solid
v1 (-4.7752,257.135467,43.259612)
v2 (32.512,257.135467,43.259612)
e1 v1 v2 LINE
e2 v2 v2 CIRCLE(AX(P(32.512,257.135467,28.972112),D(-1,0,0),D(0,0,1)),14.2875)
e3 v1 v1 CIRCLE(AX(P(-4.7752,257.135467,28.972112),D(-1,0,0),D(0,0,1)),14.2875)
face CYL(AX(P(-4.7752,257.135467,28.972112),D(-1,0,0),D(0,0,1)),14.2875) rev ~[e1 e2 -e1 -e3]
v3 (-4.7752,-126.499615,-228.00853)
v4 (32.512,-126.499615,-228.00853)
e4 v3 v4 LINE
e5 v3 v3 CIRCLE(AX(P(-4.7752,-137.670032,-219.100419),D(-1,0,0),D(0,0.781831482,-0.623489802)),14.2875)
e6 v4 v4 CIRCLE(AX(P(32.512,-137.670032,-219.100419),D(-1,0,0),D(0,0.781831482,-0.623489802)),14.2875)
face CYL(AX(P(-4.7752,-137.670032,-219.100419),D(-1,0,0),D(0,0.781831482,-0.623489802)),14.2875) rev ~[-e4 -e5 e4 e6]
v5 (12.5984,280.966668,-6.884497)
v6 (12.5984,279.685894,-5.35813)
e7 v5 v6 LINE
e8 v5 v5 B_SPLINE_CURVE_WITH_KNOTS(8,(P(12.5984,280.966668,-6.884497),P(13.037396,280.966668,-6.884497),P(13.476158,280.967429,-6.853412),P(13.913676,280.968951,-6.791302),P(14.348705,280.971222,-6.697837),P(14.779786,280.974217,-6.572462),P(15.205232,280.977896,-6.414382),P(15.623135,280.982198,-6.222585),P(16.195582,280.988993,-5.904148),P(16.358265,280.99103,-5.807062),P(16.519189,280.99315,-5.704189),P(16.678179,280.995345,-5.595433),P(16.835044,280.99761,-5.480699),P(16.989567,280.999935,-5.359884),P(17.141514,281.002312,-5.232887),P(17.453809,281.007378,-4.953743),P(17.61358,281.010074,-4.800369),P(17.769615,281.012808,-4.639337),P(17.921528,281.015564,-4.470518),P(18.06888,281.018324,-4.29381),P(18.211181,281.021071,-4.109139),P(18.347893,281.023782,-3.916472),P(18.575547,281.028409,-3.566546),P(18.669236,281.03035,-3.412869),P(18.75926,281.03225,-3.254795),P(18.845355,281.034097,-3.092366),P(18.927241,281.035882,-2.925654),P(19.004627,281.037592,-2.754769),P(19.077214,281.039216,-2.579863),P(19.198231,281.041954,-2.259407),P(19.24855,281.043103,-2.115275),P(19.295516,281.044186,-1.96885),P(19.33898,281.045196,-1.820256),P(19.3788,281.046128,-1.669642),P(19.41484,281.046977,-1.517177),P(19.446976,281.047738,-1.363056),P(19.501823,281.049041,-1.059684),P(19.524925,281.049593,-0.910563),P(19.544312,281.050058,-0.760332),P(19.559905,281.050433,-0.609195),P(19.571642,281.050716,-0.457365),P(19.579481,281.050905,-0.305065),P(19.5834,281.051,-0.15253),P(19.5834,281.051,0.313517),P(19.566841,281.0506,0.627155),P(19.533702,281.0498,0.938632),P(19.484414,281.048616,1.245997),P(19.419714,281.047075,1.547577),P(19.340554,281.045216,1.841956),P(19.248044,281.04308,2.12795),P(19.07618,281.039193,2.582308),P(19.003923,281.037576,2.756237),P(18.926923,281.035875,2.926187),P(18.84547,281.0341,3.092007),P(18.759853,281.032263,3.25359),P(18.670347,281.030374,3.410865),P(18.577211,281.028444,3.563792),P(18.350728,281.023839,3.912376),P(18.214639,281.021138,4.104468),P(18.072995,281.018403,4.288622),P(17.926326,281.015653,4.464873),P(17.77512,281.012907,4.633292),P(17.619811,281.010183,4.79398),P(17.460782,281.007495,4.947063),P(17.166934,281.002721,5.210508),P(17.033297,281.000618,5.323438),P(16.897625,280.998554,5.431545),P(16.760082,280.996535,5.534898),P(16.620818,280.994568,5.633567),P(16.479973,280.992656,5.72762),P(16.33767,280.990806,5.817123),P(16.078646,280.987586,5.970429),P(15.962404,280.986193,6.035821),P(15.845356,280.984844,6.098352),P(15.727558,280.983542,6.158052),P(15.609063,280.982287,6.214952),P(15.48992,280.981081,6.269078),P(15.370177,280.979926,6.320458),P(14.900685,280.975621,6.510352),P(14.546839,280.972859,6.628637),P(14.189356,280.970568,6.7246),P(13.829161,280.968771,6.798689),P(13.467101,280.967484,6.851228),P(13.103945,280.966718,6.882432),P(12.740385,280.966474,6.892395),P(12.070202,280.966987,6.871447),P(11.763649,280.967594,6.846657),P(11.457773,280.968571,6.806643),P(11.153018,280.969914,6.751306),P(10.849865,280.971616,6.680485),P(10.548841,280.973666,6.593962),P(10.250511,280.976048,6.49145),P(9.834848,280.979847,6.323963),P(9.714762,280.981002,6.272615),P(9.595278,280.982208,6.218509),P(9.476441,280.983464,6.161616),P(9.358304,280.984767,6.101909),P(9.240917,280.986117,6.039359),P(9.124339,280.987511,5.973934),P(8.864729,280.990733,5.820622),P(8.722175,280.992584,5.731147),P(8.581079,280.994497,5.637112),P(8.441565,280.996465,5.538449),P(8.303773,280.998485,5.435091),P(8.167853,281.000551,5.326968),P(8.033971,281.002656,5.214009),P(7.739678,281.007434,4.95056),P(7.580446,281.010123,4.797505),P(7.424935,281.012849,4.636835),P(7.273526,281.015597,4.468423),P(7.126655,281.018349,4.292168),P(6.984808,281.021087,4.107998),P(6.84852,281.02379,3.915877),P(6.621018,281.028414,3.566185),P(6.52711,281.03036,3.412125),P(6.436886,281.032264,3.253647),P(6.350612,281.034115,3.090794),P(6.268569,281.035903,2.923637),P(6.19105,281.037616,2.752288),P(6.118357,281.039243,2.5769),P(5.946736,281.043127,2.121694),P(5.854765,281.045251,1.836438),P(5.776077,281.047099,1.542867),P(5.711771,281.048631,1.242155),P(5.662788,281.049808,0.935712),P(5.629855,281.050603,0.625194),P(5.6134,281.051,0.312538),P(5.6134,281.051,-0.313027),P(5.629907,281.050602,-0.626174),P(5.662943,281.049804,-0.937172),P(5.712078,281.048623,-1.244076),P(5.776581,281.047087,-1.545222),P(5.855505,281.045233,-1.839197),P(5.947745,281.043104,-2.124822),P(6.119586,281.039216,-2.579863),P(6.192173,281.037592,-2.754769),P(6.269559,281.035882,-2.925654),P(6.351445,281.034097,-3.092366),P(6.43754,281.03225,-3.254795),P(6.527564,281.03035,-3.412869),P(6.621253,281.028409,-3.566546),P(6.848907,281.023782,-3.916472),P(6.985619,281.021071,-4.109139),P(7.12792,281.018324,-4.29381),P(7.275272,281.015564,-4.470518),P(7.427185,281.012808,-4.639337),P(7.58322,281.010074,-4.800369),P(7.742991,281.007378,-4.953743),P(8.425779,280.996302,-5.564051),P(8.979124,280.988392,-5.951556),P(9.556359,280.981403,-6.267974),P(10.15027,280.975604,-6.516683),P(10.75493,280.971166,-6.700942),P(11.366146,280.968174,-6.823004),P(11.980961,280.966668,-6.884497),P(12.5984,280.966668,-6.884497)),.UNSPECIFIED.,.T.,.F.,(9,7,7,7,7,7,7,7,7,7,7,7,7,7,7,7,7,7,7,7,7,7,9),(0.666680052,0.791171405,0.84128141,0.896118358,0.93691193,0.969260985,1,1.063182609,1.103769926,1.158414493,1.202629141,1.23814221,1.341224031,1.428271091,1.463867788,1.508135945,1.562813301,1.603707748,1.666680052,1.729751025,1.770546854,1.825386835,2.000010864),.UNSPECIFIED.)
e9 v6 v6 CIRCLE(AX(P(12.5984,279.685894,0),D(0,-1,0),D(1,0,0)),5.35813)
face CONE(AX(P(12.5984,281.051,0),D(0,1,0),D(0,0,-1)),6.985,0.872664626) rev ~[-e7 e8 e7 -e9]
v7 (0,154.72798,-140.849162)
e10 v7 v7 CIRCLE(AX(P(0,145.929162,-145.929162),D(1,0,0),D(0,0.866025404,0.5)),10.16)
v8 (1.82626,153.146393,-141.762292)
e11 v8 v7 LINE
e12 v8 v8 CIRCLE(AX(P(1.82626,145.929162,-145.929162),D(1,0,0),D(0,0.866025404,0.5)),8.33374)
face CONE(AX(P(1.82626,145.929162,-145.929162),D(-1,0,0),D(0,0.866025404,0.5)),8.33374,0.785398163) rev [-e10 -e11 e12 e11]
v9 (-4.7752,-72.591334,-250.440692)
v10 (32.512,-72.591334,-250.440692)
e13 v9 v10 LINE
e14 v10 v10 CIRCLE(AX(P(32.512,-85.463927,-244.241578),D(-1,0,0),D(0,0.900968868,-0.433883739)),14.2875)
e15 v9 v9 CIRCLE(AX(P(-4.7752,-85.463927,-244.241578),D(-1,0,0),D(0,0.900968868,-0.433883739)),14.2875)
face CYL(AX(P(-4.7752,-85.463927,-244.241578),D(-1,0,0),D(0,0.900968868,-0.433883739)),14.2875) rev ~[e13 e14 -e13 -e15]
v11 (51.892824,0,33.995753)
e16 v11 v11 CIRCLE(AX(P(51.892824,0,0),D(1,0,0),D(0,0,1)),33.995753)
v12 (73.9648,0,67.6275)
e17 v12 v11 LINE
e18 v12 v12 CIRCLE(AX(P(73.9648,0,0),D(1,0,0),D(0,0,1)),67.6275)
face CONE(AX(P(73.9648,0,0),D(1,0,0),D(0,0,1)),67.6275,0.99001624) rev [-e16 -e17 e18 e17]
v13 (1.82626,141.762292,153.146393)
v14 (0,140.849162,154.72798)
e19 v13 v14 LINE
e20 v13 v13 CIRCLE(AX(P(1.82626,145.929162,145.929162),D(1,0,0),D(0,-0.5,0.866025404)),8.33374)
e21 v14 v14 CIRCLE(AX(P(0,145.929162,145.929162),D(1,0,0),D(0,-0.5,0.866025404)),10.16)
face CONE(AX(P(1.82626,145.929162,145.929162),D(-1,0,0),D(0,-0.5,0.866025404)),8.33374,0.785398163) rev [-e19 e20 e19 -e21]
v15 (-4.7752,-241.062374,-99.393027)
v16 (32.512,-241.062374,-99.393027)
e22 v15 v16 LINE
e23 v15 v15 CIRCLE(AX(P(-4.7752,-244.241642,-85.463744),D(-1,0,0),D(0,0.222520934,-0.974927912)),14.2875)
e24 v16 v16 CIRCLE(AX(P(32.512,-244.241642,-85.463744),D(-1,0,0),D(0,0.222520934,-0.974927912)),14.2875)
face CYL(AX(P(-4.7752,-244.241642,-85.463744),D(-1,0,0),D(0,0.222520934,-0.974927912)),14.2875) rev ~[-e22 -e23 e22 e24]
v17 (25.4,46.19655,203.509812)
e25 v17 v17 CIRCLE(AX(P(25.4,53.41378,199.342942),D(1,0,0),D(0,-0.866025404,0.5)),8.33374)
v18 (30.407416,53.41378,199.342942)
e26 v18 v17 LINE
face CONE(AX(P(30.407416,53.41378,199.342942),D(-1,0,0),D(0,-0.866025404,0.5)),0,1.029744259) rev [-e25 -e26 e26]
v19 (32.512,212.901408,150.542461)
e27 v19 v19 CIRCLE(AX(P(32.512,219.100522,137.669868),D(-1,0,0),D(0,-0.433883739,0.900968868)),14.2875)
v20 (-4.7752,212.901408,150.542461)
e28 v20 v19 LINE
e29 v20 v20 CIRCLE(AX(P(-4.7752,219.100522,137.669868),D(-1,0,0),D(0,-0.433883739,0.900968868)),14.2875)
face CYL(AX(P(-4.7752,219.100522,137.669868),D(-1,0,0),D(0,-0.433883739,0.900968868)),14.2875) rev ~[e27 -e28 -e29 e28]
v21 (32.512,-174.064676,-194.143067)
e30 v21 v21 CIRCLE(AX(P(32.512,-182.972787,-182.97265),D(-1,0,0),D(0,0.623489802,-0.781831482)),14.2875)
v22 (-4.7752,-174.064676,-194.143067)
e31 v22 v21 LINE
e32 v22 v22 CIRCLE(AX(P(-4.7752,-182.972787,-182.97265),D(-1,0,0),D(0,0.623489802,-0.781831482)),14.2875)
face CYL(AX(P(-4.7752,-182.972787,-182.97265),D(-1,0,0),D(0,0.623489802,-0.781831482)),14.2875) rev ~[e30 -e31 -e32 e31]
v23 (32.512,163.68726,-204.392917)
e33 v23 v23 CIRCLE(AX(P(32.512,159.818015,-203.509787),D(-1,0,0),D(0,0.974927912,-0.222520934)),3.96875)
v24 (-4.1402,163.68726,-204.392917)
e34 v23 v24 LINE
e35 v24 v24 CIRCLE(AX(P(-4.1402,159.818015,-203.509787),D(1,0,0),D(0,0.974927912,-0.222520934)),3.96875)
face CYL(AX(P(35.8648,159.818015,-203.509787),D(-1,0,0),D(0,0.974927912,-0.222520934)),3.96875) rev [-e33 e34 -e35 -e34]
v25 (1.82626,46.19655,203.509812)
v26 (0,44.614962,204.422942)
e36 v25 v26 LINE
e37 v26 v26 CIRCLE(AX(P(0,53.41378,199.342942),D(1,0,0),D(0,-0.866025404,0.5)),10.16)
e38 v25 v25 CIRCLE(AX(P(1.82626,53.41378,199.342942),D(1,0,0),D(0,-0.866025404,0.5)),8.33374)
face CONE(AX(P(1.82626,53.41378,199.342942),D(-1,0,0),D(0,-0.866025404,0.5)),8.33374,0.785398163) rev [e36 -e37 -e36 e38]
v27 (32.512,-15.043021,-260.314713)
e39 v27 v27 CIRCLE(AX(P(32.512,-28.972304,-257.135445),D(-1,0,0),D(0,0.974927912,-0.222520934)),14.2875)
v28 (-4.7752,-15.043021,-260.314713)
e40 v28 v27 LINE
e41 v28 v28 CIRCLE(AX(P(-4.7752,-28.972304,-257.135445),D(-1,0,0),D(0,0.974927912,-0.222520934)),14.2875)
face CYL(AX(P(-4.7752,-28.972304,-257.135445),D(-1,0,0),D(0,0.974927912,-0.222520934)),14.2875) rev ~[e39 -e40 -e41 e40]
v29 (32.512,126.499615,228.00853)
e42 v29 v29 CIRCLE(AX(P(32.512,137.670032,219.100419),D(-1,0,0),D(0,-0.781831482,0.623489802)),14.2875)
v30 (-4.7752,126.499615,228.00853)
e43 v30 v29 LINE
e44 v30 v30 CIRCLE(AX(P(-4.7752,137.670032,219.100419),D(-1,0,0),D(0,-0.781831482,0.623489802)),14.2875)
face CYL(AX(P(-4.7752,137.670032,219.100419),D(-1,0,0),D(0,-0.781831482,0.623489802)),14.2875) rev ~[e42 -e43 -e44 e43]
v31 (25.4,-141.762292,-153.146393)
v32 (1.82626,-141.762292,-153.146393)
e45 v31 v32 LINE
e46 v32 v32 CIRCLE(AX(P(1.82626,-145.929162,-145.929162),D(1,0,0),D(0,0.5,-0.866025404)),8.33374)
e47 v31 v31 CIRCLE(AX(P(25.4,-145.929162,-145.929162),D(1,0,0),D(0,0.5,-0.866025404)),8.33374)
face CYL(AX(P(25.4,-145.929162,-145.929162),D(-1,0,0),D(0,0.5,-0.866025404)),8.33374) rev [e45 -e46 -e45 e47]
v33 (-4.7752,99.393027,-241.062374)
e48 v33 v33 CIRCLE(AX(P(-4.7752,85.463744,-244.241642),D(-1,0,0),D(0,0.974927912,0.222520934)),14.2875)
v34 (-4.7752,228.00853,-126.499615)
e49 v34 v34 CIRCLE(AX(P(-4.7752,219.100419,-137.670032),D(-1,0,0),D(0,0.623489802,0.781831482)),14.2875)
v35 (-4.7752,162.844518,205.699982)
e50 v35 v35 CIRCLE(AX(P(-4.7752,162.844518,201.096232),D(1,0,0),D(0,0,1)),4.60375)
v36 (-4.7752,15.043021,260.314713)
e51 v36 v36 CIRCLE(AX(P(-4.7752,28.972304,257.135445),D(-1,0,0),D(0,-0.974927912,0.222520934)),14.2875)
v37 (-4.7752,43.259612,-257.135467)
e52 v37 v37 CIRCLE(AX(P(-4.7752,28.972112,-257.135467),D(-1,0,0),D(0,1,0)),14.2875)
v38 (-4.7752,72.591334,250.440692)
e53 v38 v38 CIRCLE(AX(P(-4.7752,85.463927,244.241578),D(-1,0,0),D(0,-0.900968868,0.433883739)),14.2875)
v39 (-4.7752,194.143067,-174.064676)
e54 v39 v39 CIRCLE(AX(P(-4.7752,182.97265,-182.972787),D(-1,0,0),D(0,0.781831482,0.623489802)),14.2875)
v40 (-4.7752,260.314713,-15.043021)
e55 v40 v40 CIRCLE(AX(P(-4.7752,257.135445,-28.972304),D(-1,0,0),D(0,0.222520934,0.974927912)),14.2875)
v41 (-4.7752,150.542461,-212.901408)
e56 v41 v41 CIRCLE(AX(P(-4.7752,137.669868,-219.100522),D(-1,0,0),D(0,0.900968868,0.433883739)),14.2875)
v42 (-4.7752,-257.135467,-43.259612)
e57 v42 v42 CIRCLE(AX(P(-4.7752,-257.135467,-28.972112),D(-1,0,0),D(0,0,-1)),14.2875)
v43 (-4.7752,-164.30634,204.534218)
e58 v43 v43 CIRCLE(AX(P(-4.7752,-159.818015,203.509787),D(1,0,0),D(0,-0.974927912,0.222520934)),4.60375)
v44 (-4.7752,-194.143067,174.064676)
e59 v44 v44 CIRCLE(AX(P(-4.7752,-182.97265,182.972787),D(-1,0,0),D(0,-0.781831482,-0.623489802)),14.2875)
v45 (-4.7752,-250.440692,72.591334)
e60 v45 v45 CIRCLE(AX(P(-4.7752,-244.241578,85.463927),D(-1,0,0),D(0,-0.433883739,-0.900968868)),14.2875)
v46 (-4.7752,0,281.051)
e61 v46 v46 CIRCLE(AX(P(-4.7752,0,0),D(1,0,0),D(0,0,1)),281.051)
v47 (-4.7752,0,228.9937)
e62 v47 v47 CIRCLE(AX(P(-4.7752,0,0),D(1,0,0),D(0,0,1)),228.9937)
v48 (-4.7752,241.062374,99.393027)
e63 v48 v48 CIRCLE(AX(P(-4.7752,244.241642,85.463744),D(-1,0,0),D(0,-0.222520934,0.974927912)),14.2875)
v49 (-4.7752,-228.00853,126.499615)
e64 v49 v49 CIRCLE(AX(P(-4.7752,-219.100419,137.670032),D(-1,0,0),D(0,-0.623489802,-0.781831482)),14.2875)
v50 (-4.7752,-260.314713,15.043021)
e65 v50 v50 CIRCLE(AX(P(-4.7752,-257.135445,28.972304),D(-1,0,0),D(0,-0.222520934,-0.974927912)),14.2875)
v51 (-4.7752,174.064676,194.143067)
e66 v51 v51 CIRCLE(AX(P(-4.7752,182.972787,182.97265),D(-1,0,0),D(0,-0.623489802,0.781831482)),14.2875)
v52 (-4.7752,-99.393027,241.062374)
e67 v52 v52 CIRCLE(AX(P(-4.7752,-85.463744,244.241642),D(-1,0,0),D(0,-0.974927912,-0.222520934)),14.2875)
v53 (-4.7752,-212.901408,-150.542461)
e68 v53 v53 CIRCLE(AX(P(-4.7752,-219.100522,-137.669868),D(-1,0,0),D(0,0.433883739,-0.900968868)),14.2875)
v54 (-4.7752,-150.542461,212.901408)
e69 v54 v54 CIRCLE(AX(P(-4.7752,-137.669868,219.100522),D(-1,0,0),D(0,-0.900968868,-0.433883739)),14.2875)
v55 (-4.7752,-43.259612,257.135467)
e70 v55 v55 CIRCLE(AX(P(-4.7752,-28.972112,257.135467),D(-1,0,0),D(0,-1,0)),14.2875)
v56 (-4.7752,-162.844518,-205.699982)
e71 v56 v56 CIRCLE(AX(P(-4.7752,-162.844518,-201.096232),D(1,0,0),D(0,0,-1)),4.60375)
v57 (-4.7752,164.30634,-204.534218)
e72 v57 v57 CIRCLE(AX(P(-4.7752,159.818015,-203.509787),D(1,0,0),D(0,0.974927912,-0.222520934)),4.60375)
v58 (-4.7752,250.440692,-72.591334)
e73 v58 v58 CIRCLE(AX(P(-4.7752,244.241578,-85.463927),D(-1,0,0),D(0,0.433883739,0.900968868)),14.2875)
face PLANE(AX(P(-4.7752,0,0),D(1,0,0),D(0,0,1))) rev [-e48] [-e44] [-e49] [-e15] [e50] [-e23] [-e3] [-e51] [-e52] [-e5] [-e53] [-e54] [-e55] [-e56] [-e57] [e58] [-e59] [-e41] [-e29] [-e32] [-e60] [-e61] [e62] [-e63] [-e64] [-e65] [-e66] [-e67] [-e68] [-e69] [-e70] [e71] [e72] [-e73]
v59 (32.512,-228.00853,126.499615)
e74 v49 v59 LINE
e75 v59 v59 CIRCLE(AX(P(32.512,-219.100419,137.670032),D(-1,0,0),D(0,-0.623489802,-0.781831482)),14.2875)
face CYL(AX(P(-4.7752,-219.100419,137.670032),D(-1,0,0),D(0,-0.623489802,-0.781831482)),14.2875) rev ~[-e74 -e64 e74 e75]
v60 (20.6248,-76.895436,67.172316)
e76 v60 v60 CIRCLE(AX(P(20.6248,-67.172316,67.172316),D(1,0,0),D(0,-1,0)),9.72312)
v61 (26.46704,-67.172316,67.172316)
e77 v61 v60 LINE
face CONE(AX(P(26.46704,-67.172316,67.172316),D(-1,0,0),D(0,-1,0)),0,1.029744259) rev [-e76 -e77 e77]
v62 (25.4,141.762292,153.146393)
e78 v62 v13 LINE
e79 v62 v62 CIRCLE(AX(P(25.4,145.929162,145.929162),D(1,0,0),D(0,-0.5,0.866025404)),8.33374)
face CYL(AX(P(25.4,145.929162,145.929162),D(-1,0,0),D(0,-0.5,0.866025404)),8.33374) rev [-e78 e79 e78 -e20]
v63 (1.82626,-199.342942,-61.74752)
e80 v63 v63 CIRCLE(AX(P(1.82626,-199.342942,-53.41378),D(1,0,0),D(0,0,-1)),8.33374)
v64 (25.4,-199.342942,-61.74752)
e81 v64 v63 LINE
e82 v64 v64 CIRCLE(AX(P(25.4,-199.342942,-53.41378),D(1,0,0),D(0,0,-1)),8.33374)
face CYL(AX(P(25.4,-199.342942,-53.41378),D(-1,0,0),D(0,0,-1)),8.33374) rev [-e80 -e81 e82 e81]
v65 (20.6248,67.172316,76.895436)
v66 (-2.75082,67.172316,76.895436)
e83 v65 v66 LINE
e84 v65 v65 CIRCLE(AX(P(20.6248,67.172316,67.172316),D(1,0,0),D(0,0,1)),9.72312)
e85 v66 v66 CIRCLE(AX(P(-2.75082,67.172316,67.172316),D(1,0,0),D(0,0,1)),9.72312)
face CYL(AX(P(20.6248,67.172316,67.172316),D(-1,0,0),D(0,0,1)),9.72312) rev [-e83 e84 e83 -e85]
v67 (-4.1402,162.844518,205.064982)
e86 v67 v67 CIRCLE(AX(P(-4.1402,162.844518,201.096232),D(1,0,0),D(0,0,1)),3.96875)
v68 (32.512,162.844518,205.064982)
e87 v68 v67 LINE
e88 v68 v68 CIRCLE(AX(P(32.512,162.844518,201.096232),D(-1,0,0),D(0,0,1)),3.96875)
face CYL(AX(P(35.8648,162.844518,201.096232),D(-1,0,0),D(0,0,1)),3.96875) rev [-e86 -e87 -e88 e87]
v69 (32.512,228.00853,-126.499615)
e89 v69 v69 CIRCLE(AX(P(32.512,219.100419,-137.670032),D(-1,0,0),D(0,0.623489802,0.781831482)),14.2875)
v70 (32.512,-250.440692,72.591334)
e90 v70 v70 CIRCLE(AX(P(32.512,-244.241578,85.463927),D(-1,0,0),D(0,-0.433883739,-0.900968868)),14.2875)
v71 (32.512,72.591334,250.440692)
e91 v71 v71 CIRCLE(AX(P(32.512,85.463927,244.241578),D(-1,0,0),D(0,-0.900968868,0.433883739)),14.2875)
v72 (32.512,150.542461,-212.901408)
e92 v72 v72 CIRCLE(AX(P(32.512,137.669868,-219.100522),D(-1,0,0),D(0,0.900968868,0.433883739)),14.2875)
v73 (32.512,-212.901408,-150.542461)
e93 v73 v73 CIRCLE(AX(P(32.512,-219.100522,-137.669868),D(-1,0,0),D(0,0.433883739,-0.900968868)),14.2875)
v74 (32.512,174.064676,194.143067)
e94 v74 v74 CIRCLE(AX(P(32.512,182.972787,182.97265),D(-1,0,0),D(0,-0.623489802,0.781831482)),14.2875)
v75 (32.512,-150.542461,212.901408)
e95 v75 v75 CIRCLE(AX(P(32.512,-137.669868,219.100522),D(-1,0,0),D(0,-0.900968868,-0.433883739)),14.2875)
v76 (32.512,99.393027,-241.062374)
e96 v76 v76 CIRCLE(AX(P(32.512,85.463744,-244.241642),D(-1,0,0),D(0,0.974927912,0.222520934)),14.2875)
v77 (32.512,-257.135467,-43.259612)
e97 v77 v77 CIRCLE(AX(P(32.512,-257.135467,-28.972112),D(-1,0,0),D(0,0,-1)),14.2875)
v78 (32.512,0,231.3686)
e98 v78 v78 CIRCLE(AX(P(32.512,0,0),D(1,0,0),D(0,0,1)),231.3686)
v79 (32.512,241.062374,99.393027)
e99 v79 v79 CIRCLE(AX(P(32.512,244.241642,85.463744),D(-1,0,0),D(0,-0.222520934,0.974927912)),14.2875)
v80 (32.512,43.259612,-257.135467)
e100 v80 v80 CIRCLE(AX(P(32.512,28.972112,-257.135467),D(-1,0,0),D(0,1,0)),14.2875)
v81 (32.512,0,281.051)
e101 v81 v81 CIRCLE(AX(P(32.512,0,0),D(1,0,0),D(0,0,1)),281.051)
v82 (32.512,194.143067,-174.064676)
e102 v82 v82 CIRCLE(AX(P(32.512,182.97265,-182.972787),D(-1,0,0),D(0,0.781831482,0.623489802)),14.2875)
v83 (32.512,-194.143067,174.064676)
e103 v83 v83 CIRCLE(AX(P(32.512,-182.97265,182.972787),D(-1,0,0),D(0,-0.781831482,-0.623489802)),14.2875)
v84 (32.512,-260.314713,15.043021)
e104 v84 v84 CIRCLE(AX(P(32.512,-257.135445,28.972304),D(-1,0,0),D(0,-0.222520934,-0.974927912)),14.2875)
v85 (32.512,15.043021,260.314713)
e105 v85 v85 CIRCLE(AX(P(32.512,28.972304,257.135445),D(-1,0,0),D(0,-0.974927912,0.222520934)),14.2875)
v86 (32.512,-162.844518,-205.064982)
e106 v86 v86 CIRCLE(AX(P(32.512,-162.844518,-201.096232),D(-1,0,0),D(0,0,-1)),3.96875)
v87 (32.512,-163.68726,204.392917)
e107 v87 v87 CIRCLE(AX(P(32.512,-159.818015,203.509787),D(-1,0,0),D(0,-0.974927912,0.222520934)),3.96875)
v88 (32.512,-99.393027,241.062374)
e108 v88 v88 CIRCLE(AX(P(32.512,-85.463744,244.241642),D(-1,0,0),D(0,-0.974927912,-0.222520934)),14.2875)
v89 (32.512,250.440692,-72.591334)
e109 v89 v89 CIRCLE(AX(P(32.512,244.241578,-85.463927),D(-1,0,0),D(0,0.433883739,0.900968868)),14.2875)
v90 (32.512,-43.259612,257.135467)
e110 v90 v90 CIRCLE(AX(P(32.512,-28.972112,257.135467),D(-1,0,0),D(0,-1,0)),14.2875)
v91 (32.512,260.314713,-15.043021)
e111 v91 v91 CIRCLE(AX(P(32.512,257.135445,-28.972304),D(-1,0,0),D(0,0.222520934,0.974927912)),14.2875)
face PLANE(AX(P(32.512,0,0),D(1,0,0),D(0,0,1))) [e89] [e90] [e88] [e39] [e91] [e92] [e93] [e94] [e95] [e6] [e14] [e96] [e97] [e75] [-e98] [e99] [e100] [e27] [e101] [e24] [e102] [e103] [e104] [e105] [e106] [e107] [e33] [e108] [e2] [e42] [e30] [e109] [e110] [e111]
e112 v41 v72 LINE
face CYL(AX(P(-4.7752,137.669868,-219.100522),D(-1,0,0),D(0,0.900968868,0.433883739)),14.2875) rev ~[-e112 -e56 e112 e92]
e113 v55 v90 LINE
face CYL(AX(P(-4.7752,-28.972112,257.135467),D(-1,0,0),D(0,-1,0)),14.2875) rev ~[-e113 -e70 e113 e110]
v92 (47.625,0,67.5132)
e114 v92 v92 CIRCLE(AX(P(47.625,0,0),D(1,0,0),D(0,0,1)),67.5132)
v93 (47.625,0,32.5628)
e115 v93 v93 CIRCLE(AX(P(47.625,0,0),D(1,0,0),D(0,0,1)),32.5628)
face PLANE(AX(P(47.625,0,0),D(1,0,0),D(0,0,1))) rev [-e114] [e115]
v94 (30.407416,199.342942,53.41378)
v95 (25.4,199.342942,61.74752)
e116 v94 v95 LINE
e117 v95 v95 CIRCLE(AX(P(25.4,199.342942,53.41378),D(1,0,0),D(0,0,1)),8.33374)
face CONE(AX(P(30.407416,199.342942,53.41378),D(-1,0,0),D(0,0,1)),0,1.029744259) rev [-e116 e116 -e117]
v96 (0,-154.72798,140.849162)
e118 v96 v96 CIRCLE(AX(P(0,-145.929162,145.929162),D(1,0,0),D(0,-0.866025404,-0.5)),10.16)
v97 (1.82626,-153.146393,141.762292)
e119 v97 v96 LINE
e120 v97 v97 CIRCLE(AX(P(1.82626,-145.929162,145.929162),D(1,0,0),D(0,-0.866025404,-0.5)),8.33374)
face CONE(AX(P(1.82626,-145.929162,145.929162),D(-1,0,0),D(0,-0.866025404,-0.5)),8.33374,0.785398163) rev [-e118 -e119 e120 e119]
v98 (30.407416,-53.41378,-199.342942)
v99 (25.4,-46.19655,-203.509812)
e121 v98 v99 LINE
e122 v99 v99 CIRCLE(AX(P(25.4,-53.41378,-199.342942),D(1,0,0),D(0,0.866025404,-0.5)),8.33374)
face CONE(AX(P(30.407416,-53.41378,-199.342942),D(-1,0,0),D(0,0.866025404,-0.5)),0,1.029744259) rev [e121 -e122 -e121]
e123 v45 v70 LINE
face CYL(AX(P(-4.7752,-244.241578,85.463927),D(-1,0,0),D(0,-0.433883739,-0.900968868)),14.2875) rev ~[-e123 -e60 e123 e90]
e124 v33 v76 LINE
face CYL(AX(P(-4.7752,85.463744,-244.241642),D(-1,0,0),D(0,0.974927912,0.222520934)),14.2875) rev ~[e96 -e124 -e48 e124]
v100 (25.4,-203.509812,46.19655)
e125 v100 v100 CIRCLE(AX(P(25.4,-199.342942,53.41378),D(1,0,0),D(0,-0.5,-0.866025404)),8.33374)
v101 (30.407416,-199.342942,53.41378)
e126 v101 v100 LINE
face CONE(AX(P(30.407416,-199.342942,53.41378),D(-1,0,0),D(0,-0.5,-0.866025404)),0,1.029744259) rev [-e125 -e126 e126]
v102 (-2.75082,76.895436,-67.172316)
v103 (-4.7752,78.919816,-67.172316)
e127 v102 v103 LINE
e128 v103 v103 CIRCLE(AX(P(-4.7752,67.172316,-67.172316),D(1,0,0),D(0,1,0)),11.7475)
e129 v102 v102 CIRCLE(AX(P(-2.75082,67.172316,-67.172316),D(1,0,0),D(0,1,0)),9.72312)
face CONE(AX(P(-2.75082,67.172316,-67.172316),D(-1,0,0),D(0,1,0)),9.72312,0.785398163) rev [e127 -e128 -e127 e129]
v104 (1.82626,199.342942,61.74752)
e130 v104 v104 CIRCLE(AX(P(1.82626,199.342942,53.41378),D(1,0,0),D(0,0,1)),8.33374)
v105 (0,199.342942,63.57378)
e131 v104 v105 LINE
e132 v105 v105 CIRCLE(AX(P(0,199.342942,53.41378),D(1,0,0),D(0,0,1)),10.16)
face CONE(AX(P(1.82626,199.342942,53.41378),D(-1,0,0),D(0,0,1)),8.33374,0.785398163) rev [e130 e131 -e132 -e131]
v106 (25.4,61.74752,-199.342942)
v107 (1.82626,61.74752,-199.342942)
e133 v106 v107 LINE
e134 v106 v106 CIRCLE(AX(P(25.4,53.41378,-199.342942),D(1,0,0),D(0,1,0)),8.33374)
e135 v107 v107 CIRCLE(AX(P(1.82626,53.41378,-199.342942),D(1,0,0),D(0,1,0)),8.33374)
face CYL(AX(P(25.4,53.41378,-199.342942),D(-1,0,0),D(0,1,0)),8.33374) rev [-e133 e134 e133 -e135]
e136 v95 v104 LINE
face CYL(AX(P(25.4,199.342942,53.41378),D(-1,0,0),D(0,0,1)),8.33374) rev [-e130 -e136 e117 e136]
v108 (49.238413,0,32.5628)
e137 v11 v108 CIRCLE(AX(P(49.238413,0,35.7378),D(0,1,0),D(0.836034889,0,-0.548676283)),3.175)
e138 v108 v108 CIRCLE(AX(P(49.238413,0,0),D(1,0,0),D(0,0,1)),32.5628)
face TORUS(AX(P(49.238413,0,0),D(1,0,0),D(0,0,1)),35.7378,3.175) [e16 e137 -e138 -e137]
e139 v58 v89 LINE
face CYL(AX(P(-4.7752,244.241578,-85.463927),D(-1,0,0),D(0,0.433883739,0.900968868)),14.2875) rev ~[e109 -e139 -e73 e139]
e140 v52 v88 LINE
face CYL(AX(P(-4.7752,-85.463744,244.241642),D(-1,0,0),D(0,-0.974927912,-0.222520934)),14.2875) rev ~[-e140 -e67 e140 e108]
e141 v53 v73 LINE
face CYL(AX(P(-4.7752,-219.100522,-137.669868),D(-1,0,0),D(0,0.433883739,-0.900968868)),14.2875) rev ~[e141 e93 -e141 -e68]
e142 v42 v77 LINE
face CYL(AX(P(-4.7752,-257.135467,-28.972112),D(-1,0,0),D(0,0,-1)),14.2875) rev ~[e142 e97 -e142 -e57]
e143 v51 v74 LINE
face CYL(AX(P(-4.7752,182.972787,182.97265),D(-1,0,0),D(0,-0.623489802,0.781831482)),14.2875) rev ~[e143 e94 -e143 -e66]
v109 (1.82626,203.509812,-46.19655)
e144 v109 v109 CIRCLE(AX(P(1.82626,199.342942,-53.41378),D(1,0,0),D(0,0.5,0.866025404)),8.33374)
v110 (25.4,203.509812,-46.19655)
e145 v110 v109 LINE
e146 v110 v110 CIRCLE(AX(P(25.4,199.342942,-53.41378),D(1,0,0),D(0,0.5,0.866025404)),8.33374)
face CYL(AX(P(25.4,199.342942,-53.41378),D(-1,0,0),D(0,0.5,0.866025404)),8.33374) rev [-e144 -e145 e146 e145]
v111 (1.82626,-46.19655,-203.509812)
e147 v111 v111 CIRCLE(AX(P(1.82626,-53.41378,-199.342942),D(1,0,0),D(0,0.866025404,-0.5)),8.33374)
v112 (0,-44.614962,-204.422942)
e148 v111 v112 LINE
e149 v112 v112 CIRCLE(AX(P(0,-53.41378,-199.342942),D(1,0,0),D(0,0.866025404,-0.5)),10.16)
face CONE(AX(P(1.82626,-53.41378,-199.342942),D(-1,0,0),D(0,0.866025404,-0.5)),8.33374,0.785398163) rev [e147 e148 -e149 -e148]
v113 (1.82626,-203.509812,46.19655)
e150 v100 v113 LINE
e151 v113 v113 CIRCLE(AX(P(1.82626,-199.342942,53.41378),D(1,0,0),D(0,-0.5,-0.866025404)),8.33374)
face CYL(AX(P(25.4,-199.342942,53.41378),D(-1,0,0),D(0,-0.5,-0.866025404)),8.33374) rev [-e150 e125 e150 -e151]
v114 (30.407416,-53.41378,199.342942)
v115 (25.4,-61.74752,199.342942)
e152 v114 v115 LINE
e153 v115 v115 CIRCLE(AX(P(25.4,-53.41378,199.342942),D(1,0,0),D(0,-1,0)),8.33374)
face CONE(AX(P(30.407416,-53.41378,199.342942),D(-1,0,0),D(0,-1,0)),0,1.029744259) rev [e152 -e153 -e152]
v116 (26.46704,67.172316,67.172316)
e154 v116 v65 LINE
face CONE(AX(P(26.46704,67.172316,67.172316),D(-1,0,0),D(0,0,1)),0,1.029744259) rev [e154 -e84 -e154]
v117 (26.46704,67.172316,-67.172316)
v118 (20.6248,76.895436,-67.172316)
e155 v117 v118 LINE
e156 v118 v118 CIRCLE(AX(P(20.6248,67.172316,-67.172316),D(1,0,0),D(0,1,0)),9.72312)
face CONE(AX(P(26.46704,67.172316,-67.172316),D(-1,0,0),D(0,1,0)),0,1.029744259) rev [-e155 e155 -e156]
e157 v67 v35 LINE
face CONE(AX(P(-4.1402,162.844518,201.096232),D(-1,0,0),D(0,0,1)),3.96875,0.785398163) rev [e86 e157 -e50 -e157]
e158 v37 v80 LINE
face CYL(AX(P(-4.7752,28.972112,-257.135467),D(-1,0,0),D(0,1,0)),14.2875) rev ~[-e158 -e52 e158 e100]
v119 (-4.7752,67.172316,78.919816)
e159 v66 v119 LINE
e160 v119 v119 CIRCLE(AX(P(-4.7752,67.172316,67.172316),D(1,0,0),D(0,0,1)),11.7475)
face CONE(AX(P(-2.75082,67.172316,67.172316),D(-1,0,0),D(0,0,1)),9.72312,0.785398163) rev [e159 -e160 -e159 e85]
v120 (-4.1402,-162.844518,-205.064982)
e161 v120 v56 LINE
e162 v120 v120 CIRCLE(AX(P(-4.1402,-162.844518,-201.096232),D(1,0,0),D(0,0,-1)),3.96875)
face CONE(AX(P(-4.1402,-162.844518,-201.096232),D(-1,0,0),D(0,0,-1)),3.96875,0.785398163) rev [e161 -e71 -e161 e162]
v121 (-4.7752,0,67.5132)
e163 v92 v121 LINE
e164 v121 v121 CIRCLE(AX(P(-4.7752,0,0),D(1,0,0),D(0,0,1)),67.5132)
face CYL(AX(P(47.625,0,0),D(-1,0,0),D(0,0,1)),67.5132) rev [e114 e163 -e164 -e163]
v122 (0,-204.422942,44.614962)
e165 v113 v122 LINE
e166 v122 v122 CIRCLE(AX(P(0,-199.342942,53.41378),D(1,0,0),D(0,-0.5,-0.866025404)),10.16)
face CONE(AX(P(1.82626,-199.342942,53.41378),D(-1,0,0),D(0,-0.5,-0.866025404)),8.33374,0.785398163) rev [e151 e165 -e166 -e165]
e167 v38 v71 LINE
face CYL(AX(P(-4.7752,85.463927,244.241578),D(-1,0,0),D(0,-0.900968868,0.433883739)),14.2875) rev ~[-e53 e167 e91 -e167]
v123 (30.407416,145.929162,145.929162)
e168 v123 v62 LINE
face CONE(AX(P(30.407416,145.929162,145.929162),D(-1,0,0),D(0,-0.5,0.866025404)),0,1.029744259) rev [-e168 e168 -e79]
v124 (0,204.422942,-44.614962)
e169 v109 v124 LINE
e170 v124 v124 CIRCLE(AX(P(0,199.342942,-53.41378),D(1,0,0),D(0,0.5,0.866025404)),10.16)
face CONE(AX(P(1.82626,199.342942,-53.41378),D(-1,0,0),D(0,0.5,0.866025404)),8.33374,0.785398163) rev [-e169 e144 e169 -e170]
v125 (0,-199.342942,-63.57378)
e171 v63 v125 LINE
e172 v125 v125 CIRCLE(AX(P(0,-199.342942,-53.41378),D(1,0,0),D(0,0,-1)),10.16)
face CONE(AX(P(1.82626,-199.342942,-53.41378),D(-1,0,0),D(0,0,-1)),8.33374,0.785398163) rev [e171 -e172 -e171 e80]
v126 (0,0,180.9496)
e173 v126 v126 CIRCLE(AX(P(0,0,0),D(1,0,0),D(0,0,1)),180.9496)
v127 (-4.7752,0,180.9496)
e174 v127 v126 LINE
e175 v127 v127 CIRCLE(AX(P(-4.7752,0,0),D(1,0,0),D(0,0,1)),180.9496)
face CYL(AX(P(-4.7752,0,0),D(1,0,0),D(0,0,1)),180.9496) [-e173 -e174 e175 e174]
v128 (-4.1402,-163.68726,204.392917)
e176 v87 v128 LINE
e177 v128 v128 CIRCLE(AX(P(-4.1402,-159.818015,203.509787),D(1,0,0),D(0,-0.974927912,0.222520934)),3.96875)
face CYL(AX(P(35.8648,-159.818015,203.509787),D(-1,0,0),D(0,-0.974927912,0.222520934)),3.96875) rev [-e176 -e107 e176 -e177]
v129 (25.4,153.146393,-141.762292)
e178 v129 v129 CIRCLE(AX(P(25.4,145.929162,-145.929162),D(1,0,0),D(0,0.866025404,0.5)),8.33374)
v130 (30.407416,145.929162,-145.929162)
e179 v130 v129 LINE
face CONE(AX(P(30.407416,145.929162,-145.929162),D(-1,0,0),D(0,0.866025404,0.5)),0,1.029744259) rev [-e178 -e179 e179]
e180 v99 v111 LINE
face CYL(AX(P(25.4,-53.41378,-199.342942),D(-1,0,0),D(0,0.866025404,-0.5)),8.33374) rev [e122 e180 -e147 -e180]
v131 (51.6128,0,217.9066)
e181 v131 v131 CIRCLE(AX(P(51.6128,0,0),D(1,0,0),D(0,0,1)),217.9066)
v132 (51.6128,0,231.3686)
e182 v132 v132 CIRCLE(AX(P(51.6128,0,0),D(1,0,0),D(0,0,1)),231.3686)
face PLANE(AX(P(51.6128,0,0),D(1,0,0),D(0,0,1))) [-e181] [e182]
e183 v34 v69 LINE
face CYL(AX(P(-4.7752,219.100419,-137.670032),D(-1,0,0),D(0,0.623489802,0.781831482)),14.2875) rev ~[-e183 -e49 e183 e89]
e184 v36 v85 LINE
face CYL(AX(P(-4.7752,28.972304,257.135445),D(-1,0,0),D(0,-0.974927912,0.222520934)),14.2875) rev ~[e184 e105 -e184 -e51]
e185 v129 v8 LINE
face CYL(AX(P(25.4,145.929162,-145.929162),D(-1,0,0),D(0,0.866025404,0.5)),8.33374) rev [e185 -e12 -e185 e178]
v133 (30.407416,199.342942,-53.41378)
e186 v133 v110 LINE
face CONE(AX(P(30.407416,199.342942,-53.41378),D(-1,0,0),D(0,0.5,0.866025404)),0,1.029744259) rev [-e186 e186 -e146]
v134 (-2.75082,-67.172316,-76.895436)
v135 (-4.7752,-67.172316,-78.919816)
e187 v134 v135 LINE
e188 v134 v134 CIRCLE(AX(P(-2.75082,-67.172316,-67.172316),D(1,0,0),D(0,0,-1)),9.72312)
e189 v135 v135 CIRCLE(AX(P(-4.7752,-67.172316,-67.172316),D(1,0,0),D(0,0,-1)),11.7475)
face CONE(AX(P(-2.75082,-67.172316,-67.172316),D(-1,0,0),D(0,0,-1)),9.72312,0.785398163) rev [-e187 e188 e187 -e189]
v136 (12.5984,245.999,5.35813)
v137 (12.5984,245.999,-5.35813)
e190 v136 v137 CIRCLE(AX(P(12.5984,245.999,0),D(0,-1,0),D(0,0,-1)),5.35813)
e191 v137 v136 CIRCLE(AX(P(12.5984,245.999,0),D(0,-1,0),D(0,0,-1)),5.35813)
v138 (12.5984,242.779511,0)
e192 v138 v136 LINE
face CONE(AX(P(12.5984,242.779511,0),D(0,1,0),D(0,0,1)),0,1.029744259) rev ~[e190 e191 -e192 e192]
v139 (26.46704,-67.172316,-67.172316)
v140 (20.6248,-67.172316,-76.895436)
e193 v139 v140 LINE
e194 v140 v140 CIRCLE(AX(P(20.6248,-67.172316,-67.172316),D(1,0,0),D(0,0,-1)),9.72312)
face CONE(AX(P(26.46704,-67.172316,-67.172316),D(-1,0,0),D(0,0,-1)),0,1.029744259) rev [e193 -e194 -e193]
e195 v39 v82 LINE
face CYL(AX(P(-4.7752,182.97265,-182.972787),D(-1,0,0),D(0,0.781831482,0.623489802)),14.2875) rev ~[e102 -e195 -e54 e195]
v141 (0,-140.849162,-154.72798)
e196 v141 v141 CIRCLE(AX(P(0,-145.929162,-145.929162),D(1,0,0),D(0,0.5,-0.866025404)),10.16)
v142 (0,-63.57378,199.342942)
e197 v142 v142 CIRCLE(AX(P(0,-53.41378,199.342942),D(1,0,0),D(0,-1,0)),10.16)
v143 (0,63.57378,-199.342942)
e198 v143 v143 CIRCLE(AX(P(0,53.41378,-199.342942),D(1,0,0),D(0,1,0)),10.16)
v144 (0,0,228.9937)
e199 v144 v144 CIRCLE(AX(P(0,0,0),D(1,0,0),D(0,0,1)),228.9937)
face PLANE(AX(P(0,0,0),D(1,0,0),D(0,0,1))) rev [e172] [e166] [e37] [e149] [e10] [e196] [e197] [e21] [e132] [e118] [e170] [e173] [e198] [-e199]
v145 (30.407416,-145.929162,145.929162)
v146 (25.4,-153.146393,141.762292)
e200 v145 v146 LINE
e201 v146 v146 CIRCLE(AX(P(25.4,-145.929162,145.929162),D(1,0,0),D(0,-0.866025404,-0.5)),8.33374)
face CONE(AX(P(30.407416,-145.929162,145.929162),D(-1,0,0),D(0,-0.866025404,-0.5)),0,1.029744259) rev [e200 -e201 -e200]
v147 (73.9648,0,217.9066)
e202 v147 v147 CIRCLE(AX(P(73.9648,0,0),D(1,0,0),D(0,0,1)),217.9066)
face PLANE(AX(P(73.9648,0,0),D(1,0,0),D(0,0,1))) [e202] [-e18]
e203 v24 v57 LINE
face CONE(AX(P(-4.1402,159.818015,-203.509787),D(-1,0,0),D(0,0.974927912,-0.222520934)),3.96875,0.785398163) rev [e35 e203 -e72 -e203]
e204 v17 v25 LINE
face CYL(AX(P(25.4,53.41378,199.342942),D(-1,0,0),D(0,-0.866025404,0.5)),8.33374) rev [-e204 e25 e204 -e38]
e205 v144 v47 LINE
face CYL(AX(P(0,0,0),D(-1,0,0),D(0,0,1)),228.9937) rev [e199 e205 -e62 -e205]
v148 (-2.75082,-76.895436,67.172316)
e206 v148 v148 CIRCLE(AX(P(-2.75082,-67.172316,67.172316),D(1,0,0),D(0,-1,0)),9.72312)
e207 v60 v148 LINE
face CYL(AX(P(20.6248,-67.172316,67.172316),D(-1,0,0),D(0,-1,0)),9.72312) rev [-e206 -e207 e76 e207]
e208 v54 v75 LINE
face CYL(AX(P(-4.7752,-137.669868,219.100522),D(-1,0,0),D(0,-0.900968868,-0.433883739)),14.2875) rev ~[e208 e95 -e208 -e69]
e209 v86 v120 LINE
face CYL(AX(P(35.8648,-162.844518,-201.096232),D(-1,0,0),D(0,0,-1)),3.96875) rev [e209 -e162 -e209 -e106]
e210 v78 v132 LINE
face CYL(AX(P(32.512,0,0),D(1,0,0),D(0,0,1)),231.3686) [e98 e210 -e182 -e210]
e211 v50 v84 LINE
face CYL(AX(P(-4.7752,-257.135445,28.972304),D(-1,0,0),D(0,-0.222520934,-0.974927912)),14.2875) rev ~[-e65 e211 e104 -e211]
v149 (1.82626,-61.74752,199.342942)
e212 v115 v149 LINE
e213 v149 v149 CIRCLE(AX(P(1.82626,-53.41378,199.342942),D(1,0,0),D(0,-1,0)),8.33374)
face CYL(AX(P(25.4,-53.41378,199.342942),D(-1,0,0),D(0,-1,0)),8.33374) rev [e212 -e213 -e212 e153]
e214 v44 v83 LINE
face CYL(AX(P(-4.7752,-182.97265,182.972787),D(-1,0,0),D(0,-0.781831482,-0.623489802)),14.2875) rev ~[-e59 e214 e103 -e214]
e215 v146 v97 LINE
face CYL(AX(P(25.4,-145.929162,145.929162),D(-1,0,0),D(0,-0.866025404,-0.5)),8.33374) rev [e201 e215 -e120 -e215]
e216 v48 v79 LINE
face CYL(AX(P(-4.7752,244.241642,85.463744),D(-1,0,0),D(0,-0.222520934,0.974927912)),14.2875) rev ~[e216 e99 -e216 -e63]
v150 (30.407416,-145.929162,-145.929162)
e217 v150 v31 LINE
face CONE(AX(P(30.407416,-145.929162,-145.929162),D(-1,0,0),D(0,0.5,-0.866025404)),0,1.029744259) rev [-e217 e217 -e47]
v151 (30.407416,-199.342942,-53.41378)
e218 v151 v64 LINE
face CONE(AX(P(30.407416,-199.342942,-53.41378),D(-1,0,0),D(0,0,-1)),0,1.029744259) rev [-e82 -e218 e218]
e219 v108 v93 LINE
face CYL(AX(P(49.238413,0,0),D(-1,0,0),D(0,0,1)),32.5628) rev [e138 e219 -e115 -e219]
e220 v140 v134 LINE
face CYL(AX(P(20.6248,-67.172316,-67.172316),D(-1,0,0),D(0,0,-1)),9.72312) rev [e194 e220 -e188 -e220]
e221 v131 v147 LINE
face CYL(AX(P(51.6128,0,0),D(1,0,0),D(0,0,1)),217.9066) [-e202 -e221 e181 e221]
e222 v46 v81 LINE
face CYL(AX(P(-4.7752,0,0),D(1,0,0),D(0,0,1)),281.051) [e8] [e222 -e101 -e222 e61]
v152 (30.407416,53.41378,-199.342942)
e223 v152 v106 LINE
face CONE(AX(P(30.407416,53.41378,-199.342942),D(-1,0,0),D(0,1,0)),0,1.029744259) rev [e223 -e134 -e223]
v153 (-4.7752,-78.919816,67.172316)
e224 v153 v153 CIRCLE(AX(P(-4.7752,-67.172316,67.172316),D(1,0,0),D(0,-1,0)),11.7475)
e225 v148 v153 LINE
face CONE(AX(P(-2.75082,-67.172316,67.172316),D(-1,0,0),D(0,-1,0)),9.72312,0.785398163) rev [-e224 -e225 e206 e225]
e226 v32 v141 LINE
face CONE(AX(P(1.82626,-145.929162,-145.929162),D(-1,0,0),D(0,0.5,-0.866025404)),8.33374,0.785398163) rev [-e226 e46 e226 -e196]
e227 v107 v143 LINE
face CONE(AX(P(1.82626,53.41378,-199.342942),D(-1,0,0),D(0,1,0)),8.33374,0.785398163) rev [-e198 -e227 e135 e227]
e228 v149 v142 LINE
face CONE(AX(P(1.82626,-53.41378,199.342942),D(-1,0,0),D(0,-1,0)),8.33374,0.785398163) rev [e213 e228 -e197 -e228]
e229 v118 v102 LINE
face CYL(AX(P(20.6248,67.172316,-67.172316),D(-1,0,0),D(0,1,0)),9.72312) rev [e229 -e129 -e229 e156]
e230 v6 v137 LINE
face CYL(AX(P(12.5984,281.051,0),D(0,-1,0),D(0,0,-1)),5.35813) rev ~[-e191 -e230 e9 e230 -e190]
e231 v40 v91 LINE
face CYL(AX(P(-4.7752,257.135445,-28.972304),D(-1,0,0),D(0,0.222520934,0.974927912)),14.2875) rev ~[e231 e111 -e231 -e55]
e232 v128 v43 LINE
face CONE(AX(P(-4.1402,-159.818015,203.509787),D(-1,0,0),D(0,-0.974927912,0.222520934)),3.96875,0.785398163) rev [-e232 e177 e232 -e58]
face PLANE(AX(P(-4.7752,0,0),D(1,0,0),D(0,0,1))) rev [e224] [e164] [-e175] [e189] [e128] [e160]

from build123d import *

# Parameters (mm, degrees)
SKETCH4_R                         = 14.2875
CUT_EXTRUDE1_DEPTH                = 406.190469782
CIRPATTERN2_COUNT                 = 28
CIRPATTERN3_COUNT                 = 12
CIRPATTERN4_COUNT                 = 4
CIRPATTERN5_COUNT                 = 56
F_1_2_13_TAPPED_HOLE4_D           = 10.71626
F_1_2_13_TAPPED_HOLE4_DEPTH       = 35.052
F_1_2_13_TAPPED_HOLE4_CSINK_D     = 13.97
F_1_2_13_TAPPED_HOLE4_CSINK_ANGLE = 100
F_1_2_13_TAPPED_HOLE4_TIP         = 3.219489309


with BuildPart() as part:
    # Sketch1 → Revolve1 (revolve)
    with BuildSketch(Plane.XY, mode=Mode.PRIVATE) as revolve1_sk:
        with BuildLine():
            Line((-4.7752, 67.5132), (-4.7752, 180.9496))
            Line((-4.7752, 180.9496), (0, 180.9496))
            Line((0, 180.9496), (0, 228.9937))
            Line((0, 228.9937), (-4.7752, 228.9937))
            Line((-4.7752, 228.9937), (-4.7752, 281.051))
            Line((-4.7752, 281.051), (32.512, 281.051))
            Line((32.512, 281.051), (32.512, 231.3686))
            Line((32.512, 231.3686), (51.6128, 231.3686))
            Line((51.6128, 231.3686), (51.6128, 217.9066))
            Line((51.6128, 217.9066), (73.9648, 217.9066))
            Line((73.9648, 217.9066), (73.9648, 67.6275))
            Line((73.9648, 67.6275), (51.892823931, 33.9957528))
            ThreePointArc((51.892823931, 33.9957528), (50.746661337, 32.943911593), (49.238413158, 32.5628))
            Line((49.238413158, 32.5628), (47.625, 32.5628))
            Line((47.625, 32.5628), (47.625, 67.5132))
            Line((47.625, 67.5132), (-4.7752, 67.5132))
        make_face()
    revolve(revolve1_sk.sketch.rotate(Axis((0, 0, 0), (1, 0, 0)), 90), axis=Axis((0, 0, 0), (1, 0, 0)))

    # Sketch4 → Cut-Extrude1 (cut, through all)
    with BuildSketch(Plane.ZY.offset(4.7752)):
        with Locations((28.972111579, 257.135466548)):
            Circle(SKETCH4_R)
    cut_extrude1 = extrude(amount=-CUT_EXTRUDE1_DEPTH, mode=Mode.SUBTRACT)

    # CirPattern2: Cut-Extrude1 ×28 about axis
    cirpattern2_axis = Axis((0, 0, 0), (1, 0, 0))
    for i in range(1, CIRPATTERN2_COUNT):
        add(cut_extrude1.rotate(cirpattern2_axis, i * 360 / CIRPATTERN2_COUNT), mode=Mode.SUBTRACT)

    # Sketch8 → 3/4-10 Tapped Hole1 (revolve, cut)
    with BuildSketch(Plane(origin=(0, 199.3429424, 53.413780433), x_dir=(0, 0, 1), z_dir=(0, 1, 0))):
        Polygon((0, 0), (0, 30.407416175), (8.33374, 25.4), (8.33374, 1.82626), (10.16, 0), align=None)
    f_3_4_10_tapped_hole1 = revolve(axis=Axis((-6.35, 199.3429424, 53.413780433), (1, 0, 0)), mode=Mode.SUBTRACT)

    # CirPattern3: 3/4-10 Tapped Hole1 ×12 about axis
    cirpattern3_axis = Axis((0, 0, 0), (1, 0, 0))
    for i in range(1, CIRPATTERN3_COUNT):
        add(f_3_4_10_tapped_hole1.rotate(cirpattern3_axis, i * 360 / CIRPATTERN3_COUNT), mode=Mode.SUBTRACT)

    # Sketch10 → 7/8-9 Tapped Hole1 (revolve, cut)
    with BuildSketch(Plane(origin=(-4.7752, 67.172315786, 67.172315786), x_dir=(0, 0, 1), z_dir=(0, 1, 0))):
        Polygon((0, 0), (0, 31.242239902), (9.72312, 25.4), (9.72312, 2.02438), (11.7475, 0), align=None)
    f_7_8_9_tapped_hole1 = revolve(axis=Axis((-11.1252, 67.172315786, 67.172315786), (1, 0, 0)), mode=Mode.SUBTRACT)

    # CirPattern4: 7/8-9 Tapped Hole1 ×4 about axis
    cirpattern4_axis = Axis((0, 0, 0), (1, 0, 0))
    for i in range(1, CIRPATTERN4_COUNT):
        add(f_7_8_9_tapped_hole1.rotate(cirpattern4_axis, i * 360 / CIRPATTERN4_COUNT), mode=Mode.SUBTRACT)

    # Sketch21 → Tap Drill for 3/8-16 Tap1 (revolve, cut)
    with BuildSketch(Plane(origin=(-4.7752, 162.844517689, 201.096231852), x_dir=(0, 0, 1), z_dir=(0, 1, 0))):
        Polygon((0, 0), (0, 43.024665582), (3.96875, 40.64), (3.96875, 0.635), (4.60375, 0), align=None)
    tap_drill_for_3_8_16_tap1 = revolve(axis=Axis((-11.1252, 162.844517689, 201.096231852), (1, 0, 0)), mode=Mode.SUBTRACT)

    # CirPattern5: Tap Drill for 3/8-16 Tap1 ×56 about axis, 52 skipped
    cirpattern5_axis = Axis((0, 0, 0), (-1, 0, 0))
    add([tap_drill_for_3_8_16_tap1.rotate(cirpattern5_axis, i * 360 / CIRPATTERN5_COUNT) for i in range(1, CIRPATTERN5_COUNT) if i not in (1, 2, 3, 4, 5, 6, 7, 8, 9, 10, 11, 12, 13, 14, 15, 17, 18, 19, 20, 21, 22, 23, 24, 25, 26, 27, 29, 30, 31, 32, 33, 34, 35, 36, 37, 38, 39, 40, 41, 42, 43, 45, 46, 47, 48, 49, 50, 51, 52, 53, 54, 55)], mode=Mode.SUBTRACT)

    # 1/2-13 Tapped Hole4
    with Locations(Plane(origin=(12.5984, 281.051, 0), x_dir=(0, 0, 1), z_dir=(0, 1, 0))):
        with Locations((0, 0)):
            CounterSinkHole(F_1_2_13_TAPPED_HOLE4_D / 2, F_1_2_13_TAPPED_HOLE4_CSINK_D / 2, depth=F_1_2_13_TAPPED_HOLE4_DEPTH, counter_sink_angle=F_1_2_13_TAPPED_HOLE4_CSINK_ANGLE)
            with Locations((0, 0, -(F_1_2_13_TAPPED_HOLE4_DEPTH + F_1_2_13_TAPPED_HOLE4_TIP / 2))):  # 118° drill point
                Cone(0, F_1_2_13_TAPPED_HOLE4_D / 2, F_1_2_13_TAPPED_HOLE4_TIP, mode=Mode.SUBTRACT)


solid = part.part
